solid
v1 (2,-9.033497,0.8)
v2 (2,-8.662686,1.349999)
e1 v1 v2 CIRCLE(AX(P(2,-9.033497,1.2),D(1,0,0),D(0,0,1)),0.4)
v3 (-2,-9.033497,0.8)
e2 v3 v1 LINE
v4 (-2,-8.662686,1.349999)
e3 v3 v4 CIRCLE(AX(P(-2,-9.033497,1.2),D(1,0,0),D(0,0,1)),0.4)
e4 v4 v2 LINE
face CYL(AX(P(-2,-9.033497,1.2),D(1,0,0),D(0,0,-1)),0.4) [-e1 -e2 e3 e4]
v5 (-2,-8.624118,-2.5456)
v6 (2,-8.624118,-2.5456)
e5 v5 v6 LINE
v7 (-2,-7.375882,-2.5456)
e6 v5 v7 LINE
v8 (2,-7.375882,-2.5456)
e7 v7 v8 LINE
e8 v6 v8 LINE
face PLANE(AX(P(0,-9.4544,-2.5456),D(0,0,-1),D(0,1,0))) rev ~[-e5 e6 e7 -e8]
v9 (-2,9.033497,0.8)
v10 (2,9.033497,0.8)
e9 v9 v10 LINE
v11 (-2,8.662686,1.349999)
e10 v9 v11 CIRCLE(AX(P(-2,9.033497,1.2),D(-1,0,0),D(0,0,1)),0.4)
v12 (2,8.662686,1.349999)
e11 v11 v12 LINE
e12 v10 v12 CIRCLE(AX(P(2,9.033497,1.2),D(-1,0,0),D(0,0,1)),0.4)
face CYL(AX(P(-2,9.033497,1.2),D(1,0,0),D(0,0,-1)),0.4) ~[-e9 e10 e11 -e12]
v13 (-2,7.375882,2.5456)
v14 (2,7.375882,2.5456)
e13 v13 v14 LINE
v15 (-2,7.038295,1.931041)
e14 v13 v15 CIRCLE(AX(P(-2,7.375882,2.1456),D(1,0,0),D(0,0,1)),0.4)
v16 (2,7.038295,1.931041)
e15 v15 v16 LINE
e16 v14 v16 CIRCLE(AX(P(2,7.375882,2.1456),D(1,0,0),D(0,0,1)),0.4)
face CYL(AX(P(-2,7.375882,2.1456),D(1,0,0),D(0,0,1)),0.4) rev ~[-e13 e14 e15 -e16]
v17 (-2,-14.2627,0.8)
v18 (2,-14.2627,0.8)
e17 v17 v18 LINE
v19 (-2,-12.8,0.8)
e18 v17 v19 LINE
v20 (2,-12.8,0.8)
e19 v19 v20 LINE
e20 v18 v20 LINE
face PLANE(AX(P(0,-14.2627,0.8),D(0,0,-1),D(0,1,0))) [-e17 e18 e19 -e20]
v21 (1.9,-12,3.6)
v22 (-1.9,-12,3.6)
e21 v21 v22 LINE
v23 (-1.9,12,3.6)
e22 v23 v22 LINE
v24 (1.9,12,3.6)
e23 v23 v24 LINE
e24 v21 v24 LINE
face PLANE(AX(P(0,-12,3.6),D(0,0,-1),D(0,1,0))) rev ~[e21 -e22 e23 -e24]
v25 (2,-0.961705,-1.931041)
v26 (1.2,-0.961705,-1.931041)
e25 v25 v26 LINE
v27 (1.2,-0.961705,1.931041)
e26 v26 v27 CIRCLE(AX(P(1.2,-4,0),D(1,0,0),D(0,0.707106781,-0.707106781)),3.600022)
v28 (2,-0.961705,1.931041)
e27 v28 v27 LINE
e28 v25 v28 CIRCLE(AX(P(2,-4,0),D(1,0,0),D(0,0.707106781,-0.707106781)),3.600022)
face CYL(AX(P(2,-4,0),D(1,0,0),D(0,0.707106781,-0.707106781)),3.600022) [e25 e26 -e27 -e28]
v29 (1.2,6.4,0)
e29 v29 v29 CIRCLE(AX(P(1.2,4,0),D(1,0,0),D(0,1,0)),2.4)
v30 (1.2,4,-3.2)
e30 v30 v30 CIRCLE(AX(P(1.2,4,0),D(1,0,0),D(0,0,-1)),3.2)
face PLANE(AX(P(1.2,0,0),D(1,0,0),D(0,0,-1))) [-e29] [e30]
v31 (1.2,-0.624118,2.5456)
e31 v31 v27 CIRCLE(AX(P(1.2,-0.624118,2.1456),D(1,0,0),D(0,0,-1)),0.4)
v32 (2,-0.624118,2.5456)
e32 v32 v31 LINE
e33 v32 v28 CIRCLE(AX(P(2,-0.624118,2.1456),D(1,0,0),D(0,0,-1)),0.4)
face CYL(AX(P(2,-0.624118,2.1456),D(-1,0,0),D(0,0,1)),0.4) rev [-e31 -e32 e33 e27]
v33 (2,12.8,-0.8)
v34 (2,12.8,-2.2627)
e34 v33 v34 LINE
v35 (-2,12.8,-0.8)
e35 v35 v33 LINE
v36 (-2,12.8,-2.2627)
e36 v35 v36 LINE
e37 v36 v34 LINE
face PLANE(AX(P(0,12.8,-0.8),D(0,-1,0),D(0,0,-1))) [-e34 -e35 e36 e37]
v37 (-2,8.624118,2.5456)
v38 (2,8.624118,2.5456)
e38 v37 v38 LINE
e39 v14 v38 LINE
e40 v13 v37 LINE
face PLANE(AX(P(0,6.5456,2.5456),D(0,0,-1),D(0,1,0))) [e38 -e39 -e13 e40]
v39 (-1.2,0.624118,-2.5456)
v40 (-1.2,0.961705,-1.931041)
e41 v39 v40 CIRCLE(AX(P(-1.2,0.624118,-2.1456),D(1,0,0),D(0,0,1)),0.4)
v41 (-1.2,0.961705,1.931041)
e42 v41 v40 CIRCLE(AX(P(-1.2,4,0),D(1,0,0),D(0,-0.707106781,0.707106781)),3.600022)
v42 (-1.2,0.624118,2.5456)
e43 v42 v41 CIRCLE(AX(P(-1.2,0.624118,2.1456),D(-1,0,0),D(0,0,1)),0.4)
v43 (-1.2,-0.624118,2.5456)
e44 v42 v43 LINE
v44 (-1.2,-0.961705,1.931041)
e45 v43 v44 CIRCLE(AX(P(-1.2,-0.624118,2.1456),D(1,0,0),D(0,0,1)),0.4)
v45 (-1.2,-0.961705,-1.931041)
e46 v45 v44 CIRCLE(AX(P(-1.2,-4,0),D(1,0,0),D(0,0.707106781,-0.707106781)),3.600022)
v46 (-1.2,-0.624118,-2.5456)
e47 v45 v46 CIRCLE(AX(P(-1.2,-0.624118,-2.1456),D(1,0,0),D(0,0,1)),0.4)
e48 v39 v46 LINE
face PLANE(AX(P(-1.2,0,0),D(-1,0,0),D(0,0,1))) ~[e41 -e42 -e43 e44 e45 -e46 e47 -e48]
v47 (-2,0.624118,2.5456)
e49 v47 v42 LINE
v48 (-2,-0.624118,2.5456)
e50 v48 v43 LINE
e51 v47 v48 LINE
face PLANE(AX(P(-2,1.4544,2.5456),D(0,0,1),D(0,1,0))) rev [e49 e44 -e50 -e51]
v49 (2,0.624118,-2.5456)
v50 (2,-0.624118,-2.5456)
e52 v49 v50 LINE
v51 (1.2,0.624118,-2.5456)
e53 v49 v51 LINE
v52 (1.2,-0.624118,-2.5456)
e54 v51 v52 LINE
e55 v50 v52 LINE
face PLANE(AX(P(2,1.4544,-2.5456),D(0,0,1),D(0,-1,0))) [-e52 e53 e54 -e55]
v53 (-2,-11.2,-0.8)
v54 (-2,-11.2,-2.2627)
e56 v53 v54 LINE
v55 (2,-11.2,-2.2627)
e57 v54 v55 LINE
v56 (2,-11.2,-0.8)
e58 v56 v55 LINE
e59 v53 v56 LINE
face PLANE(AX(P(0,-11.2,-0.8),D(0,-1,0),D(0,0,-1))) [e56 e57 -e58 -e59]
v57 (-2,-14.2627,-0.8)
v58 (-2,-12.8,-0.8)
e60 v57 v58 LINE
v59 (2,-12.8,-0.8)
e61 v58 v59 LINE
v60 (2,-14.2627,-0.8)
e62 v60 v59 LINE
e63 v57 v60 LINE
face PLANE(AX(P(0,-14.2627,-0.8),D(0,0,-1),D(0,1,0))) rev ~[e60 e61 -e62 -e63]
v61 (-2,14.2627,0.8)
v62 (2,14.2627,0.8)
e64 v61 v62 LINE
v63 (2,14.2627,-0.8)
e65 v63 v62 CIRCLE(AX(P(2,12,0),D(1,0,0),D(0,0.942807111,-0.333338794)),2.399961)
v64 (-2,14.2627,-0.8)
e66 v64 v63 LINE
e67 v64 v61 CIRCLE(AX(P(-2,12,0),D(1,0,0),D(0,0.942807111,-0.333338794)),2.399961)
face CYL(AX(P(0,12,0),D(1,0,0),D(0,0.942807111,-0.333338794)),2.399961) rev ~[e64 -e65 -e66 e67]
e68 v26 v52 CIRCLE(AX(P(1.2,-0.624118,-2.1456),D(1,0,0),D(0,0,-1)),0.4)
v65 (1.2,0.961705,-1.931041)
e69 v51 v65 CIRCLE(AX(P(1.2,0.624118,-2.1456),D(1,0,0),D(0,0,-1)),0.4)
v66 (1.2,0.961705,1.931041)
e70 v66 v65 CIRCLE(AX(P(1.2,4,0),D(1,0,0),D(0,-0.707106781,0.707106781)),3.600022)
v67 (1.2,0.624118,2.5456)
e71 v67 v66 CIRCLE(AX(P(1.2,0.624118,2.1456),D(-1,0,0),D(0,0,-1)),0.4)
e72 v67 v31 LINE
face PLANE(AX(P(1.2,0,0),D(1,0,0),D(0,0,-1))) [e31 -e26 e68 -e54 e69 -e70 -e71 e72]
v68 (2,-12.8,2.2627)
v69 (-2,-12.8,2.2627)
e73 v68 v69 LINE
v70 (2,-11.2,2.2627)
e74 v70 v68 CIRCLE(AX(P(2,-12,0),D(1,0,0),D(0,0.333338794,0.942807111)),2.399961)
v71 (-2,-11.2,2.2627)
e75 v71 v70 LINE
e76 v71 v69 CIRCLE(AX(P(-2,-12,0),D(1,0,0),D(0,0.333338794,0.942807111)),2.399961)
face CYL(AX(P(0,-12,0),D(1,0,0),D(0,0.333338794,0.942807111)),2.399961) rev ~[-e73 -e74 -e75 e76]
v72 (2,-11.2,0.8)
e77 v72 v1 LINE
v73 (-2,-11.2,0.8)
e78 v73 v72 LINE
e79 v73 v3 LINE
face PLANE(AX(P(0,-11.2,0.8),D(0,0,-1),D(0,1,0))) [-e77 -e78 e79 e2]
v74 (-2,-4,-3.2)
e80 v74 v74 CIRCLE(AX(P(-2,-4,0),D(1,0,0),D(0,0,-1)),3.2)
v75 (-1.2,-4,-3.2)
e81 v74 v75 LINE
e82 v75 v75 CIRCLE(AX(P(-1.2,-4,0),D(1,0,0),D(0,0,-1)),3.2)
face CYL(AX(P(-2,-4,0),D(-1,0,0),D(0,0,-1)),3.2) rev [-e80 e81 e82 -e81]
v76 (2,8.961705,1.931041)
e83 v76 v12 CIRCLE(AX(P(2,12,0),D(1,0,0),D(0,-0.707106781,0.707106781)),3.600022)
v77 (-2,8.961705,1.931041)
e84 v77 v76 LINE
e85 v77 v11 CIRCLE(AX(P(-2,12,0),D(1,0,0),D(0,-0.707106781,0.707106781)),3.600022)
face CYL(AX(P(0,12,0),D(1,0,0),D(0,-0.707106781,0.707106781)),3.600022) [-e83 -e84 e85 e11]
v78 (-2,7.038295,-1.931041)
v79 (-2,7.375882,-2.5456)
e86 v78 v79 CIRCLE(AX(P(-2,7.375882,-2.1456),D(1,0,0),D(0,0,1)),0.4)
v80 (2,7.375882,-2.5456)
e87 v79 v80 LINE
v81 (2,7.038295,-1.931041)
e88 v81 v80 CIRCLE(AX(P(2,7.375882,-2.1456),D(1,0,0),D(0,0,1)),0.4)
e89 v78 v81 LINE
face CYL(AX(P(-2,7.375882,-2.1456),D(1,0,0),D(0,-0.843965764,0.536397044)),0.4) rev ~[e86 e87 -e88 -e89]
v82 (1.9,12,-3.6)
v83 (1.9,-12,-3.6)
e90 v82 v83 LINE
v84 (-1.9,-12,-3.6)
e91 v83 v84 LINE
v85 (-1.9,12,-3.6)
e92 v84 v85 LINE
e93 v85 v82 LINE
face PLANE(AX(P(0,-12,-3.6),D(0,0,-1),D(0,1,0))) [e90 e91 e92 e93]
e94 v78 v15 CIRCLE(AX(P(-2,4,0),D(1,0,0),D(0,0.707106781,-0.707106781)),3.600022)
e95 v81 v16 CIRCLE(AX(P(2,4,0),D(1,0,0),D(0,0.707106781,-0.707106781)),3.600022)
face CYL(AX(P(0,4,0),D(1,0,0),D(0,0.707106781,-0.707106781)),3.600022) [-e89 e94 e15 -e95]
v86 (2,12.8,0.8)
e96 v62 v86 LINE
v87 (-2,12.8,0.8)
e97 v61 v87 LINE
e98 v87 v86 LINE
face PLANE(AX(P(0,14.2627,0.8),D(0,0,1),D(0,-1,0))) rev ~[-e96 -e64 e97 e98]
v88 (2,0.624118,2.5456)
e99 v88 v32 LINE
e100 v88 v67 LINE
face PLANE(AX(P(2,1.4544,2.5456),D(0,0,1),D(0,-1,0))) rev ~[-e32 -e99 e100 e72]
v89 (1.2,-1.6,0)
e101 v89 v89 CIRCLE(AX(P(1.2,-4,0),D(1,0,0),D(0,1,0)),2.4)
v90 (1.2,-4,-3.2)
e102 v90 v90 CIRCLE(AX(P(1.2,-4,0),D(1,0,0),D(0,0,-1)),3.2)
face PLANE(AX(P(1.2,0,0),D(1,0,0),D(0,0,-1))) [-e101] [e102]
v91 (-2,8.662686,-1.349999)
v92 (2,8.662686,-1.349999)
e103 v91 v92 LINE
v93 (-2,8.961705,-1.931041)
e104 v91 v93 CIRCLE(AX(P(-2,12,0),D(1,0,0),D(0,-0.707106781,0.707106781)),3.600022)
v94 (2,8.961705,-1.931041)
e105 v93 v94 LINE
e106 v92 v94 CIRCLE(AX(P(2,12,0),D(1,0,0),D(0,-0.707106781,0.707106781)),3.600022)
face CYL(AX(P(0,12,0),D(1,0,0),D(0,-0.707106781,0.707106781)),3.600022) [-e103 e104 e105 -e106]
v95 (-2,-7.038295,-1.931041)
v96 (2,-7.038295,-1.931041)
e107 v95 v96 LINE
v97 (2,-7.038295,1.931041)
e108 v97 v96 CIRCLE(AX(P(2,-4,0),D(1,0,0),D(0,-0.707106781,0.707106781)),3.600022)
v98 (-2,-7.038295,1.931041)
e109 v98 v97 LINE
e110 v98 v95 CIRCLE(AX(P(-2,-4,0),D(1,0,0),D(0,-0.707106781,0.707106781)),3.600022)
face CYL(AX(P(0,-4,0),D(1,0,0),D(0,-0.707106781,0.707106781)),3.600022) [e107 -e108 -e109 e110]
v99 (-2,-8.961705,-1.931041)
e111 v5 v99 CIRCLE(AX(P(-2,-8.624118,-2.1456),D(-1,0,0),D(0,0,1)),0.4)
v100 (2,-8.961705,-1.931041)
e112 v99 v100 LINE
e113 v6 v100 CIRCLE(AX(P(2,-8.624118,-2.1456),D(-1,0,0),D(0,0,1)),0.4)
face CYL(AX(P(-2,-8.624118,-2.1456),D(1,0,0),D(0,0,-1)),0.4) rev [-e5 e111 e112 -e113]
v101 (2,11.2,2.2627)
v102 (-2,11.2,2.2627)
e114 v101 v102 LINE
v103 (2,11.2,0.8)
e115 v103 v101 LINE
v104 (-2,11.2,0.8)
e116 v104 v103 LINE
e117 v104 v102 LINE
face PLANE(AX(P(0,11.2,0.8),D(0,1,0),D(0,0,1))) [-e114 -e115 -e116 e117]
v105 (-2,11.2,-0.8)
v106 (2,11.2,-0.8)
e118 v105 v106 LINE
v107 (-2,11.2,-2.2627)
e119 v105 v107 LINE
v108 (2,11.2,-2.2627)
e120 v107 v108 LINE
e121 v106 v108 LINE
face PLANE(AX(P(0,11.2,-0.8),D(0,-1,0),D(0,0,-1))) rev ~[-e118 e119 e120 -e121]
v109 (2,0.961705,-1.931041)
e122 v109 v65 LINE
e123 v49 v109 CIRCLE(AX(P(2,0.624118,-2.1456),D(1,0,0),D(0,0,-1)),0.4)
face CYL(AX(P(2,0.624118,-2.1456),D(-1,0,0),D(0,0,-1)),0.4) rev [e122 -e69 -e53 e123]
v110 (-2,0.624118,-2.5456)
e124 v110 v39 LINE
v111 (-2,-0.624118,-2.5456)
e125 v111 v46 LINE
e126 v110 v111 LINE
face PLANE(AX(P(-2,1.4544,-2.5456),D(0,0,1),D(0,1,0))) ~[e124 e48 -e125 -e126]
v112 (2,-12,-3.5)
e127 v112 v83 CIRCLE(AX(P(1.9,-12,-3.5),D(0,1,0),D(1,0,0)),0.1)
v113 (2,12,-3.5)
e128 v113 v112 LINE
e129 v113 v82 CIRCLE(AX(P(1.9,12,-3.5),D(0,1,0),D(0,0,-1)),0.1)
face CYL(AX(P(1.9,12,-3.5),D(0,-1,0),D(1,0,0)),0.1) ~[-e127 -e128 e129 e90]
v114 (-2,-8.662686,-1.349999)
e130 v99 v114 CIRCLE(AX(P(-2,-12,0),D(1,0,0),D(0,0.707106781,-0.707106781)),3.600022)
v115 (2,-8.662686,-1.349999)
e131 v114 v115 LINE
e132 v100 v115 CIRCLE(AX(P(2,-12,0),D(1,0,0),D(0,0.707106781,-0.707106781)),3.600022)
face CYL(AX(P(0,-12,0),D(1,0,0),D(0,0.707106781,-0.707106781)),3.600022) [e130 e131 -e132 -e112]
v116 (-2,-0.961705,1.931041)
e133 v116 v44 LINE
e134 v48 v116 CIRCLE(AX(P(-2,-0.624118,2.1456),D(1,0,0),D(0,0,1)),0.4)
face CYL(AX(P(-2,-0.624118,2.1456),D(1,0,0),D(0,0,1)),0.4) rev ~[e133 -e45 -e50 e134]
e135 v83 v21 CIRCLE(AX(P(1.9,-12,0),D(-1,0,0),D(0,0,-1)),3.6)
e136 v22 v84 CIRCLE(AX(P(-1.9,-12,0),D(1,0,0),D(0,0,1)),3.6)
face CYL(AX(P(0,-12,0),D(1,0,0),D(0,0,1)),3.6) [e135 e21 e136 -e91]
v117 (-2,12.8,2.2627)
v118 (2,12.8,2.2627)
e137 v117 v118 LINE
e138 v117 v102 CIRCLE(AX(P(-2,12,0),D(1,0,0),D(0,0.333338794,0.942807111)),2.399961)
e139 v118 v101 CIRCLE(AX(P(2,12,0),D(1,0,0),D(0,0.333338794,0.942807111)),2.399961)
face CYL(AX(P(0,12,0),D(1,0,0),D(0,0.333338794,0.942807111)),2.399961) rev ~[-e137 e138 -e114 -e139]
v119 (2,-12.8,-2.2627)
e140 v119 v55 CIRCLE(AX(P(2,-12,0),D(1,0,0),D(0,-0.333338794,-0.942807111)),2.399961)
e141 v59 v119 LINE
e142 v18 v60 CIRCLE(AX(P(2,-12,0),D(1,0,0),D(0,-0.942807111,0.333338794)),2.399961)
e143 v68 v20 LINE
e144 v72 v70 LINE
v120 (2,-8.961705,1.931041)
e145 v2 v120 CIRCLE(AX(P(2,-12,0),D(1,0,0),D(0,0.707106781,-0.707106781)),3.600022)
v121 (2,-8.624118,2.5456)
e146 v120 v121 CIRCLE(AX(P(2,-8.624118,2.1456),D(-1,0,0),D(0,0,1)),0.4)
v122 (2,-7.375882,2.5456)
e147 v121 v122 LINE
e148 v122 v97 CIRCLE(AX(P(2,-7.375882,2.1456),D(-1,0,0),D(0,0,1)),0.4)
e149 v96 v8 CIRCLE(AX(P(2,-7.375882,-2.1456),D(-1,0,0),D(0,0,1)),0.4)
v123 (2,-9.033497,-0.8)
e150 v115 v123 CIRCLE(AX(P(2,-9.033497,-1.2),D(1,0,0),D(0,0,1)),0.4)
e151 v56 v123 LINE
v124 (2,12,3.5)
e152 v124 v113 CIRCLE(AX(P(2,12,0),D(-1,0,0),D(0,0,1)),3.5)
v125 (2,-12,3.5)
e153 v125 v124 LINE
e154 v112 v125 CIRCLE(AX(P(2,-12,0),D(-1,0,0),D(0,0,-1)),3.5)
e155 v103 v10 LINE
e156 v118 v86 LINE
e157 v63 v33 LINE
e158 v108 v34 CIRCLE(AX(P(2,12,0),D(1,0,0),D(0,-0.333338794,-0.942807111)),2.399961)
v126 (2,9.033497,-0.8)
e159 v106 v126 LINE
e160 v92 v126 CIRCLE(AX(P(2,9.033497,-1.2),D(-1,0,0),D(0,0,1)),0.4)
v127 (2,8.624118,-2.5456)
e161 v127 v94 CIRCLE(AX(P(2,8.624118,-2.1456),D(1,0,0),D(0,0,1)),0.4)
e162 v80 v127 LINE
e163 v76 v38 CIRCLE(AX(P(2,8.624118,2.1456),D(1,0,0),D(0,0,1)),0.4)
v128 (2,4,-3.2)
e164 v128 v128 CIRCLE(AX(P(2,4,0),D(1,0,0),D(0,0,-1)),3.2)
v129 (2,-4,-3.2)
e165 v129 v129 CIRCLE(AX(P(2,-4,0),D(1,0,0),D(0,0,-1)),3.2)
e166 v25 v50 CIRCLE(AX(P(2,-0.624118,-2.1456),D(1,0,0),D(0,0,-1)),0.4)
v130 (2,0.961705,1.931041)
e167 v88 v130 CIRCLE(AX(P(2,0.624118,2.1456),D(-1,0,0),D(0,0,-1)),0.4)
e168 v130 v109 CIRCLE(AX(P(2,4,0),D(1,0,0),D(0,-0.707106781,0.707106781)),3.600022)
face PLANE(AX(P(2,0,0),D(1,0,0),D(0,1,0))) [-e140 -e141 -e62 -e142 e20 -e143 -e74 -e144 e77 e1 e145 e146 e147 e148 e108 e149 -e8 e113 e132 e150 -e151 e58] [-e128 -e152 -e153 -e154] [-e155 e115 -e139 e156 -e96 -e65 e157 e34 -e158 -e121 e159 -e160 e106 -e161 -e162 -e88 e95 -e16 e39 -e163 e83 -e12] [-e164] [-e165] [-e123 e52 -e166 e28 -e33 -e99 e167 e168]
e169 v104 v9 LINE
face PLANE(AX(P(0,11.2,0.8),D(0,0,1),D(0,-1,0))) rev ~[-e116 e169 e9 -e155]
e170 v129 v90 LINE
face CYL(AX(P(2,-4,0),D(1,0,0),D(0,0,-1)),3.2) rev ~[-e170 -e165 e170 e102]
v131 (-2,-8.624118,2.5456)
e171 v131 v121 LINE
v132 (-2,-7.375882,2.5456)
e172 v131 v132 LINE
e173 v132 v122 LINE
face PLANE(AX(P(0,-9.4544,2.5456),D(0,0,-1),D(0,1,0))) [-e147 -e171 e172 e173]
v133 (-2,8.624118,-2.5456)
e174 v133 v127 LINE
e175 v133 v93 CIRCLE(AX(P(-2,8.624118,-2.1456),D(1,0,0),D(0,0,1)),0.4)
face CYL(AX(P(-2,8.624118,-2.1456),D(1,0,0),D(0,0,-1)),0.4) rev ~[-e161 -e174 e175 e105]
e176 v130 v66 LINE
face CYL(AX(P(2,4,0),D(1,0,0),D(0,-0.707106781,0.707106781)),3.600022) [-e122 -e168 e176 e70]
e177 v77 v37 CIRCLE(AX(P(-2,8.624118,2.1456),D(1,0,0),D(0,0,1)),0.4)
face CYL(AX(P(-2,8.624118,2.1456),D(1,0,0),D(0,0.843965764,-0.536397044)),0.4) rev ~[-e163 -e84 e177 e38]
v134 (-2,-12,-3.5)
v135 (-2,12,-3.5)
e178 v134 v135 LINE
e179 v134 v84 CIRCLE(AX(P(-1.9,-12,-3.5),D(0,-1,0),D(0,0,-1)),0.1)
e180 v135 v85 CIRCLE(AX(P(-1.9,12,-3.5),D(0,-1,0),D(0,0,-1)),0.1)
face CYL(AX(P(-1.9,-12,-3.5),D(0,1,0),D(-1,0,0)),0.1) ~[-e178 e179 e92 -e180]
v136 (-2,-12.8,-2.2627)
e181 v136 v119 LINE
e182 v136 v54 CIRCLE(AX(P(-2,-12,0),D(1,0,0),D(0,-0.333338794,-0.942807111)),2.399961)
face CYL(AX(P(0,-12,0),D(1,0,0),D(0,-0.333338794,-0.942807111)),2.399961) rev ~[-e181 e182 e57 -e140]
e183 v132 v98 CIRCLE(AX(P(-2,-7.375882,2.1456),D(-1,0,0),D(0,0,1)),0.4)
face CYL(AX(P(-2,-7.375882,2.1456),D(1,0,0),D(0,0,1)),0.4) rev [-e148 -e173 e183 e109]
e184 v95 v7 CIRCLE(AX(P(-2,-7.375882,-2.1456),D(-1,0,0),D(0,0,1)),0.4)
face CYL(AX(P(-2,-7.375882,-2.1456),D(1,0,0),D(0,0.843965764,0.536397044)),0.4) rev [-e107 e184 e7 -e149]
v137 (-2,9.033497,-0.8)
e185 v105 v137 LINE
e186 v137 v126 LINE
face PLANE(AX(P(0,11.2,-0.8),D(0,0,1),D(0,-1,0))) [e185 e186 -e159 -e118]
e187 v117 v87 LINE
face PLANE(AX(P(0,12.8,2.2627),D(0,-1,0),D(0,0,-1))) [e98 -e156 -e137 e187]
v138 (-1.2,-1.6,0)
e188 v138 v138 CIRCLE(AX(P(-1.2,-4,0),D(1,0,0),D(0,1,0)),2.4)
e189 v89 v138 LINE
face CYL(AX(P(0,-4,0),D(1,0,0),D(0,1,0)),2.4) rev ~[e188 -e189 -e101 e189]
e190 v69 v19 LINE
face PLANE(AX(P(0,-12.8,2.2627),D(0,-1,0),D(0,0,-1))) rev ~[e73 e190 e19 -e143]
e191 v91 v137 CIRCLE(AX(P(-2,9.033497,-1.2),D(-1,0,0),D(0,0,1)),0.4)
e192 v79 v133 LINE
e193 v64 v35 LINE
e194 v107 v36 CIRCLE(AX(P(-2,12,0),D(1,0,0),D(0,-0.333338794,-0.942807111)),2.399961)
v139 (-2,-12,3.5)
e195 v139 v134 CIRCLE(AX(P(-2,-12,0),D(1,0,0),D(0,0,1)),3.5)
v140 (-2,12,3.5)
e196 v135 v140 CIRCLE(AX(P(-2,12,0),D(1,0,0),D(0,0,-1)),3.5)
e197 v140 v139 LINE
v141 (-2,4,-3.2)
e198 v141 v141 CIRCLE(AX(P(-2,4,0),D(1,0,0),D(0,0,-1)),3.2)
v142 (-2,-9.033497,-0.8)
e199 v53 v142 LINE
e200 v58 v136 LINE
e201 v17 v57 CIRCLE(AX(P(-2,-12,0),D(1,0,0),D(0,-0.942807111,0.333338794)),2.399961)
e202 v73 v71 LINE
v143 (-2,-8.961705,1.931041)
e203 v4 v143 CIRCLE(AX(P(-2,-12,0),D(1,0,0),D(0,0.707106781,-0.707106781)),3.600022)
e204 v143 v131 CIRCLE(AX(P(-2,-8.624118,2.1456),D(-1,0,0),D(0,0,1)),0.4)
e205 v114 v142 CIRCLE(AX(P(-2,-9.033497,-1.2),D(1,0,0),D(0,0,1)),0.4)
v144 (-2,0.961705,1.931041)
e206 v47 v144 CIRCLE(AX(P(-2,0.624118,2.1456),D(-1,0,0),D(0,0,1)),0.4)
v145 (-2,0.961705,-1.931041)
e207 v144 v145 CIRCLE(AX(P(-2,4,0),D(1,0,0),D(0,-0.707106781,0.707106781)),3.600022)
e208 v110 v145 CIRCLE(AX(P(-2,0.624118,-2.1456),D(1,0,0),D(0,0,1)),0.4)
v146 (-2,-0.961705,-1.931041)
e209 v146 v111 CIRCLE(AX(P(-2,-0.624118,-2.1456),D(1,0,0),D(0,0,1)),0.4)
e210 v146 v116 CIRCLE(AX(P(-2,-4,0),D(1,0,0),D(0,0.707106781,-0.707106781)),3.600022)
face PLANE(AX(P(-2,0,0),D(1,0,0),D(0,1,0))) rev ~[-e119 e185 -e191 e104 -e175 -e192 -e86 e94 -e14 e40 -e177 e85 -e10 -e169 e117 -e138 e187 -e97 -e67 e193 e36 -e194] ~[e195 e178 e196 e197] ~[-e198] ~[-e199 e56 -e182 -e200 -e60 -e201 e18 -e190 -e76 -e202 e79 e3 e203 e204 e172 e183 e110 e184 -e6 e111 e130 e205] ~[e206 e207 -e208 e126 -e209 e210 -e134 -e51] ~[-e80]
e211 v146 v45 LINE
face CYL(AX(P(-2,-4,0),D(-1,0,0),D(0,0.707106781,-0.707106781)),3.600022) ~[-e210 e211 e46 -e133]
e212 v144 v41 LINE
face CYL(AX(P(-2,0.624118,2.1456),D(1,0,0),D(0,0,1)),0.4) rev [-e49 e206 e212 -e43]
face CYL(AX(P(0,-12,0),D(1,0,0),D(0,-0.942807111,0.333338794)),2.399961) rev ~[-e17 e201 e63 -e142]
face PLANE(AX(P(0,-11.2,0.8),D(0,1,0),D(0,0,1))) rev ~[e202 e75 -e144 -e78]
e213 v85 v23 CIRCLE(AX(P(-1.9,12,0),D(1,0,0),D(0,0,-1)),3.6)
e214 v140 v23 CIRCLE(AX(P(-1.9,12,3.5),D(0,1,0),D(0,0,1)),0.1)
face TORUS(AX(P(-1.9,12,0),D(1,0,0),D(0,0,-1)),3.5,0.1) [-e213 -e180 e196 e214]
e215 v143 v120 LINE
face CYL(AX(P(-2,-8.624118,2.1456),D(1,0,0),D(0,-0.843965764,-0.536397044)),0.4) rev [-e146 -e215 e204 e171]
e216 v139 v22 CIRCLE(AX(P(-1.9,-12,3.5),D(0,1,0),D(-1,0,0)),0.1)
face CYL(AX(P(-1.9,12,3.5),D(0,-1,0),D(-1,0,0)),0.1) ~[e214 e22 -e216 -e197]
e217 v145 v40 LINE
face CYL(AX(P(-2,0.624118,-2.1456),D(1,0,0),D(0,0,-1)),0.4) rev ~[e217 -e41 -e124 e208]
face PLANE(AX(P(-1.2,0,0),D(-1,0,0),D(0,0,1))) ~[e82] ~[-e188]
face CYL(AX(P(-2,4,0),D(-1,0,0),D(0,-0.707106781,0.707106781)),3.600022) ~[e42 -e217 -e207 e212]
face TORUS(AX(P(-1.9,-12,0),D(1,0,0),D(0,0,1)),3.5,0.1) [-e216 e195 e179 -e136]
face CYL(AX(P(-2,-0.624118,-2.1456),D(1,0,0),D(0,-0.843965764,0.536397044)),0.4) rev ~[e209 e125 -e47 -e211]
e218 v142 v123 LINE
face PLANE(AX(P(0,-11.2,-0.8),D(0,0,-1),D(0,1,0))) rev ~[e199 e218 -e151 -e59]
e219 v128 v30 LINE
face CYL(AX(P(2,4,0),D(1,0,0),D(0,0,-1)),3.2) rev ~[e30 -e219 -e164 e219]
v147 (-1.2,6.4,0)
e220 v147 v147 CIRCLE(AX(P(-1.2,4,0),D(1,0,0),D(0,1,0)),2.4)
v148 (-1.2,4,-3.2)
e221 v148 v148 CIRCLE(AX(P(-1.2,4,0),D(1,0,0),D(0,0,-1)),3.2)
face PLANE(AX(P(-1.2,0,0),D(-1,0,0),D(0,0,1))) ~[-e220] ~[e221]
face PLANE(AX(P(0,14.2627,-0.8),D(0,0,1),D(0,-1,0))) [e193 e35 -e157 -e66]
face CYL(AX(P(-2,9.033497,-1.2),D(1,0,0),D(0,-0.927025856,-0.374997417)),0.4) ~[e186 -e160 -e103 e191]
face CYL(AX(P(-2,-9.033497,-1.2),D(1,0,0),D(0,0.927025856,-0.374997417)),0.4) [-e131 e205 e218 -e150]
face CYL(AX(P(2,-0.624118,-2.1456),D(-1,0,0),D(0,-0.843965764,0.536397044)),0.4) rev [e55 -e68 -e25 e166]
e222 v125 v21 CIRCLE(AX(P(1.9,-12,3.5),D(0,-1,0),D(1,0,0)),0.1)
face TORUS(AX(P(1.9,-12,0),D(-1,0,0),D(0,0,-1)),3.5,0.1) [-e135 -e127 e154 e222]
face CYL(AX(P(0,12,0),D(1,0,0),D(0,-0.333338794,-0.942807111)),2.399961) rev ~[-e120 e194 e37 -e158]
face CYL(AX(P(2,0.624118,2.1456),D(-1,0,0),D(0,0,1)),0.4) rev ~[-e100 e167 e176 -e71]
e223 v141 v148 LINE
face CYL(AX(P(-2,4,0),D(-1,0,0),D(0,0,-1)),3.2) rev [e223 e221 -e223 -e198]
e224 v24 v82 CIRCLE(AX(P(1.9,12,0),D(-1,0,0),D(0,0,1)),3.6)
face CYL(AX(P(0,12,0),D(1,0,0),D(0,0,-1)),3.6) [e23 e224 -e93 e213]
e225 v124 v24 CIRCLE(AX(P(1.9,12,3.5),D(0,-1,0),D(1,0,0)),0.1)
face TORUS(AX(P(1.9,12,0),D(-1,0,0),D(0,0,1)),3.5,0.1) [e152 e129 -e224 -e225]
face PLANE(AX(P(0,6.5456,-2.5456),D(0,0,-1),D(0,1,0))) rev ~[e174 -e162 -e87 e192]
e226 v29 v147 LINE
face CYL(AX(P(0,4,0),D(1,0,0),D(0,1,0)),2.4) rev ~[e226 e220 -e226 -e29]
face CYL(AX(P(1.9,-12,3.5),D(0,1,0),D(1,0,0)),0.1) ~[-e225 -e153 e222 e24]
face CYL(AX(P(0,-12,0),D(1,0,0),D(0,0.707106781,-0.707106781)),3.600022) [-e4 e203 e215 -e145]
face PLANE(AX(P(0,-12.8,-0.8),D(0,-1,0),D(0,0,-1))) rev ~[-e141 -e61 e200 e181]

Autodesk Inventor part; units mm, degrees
ref_plane "YZ Plane" through (0, 0, 0) normal (1, 0, 0) x (0, 1, 0)
ref_plane "XZ Plane" through (0, 0, 0) normal (0, 1, 0) x (-1, 0, 0)
ref_plane "XY Plane" through (0, 0, 0) normal (0, 0, 1) x (1, 0, 0)
sketch "Sketch3" plane through (0, 0, 0) normal (1, 0, 0) x (0, 1, 0)
  arc A0 (12.8, 2.2627) -> (11.2, 2.2627) centre (12, 0) ccw
  arc A1 (11.2, -2.2627) -> (12.8, -2.2627) centre (12, 0) ccw
  arc A2 (14.2627, -0.8) -> (14.2627, 0.8) centre (12, 0) ccw
  line L0 (14.2627, 0.8) -> (12.8, 0.8)
  line L1 (11.2, 0.8) -> (8.49, 0.8)
  line L2 (12.8, 2.2627) -> (12.8, 0.8)
  line L3 (12.8, -0.8) -> (12.8, -2.2627)
  line L4 (14.2627, -0.8) -> (12.8, -0.8)
  line L5 (11.2, -0.8) -> (8.49, -0.8)
  arc A3 (12, -3.6) -> (12, 3.6) centre (12, 0) ccw
  line L6 (-12, -3.6) -> (12, -3.6)
  line L7 (-12, 3.6) -> (12, 3.6)
  line L8 (11.2, 0.8) -> (11.2, 2.2627)
  line L9 (11.2, -0.8) -> (11.2, -2.2627)
  arc A4 (-12, 3.6) -> (-12, -3.6) centre (-12, 0) ccw
  line L10 (0, -3.6) -> (0, 3.6) construction
  arc A5 (-11.2, 2.2627) -> (-12.8, 2.2627) centre (-12, 0) ccw
  arc A6 (-12.8, -2.2627) -> (-11.2, -2.2627) centre (-12, 0) ccw
  line L11 (-12.8, -0.8) -> (-12.8, -2.2627)
  line L12 (-12.8, 2.2627) -> (-12.8, 0.8)
  line L13 (-14.2627, -0.8) -> (-12.8, -0.8)
  line L14 (-14.2627, 0.8) -> (-12.8, 0.8)
  arc A7 (-14.2627, 0.8) -> (-14.2627, -0.8) centre (-12, 0) ccw
  line L15 (-11.2, 0.8) -> (-8.49, 0.8)
  line L16 (-11.2, -0.8) -> (-8.49, -0.8)
  line L17 (-11.2, 0.8) -> (-11.2, 2.2627)
  line L18 (-11.2, -0.8) -> (-11.2, -2.2627)
  circle A8 centre (-4, 0) radius 3.2
  circle A9 centre (4, 0) radius 3.2
  line L19 (12, 0) -> (4, 0) construction
  line L20 (4, 0) -> (-4, 0) construction
  line L21 (-4, 0) -> (-12, 0) construction
  circle A10 centre (-4, 0) radius 2.4
  circle A11 centre (4, 0) radius 2.4
  line L22 (-9.4544, 2.5456) -> (-6.5456, 2.5456)
  line L23 (-9.4544, -2.5456) -> (-6.5456, -2.5456)
  line L24 (-1.4544, 2.5456) -> (1.4544, 2.5456)
  line L25 (-1.4544, -2.5456) -> (1.4544, -2.5456)
  line L26 (6.5456, 2.5456) -> (9.4544, 2.5456)
  line L27 (6.5456, -2.5456) -> (9.4544, -2.5456)
  arc A12 (-9.4544, -2.5456) -> (-9.4544, 2.5456) centre (-12, 0) ccw
  arc A13 (-6.5456, 2.5456) -> (-6.5456, -2.5456) centre (-4, 0) ccw
  arc A14 (-1.4544, -2.5456) -> (-1.4544, 2.5456) centre (-4, 0) ccw
  arc A15 (1.4544, 2.5456) -> (1.4544, -2.5456) centre (4, 0) ccw
  arc A16 (6.5456, -2.5456) -> (6.5456, 2.5456) centre (4, 0) ccw
  arc A17 (9.4544, 2.5456) -> (9.4544, -2.5456) centre (12, 0) ccw
  line L28 (-12, 0) -> (-9.4544, 2.5456) construction
  arc A18 (8.49, 0.8) -> (8.49, -0.8) centre (12, 0) ccw
  point P0 (0, 0)
  dimension "d47" = 4.8
  dimension "d49" = 7.2
  dimension "d53" = 1.6
  dimension "d58" = 24
  dimension "d59" = 6.4
  dimension "d60" = 4.8
  dimension "d64" = 45
extrude "Extrusion4" add sketch "Sketch3" along normal mid plane 4 contours L6 A4 L7 A3 | A8 | A9 | L24 A15 L25 A14
sketch "Sketch11" plane through (2, 0, 0) normal (1, 0, 0) x (0, 0, -1)
  circle A0 centre (0, 4) radius 2.4 projected
  circle A1 centre (0, -4) radius 2.4 projected
  circle A2 centre (0, 4) radius 3.2
  circle A3 centre (0, -4) radius 3.2
  arc A4 (2.5456, 6.5456) -> (-2.5456, 6.5456) centre (0, 4) ccw projected
  arc A5 (-2.5456, -6.5456) -> (2.5456, -6.5456) centre (0, -4) ccw projected
  line L0 (-2.2627, -11.2) -> (-0.8, -11.2) projected
  line L1 (-2.5456, 1.4544) -> (-2.5456, -1.4544)
  line L2 (2.5456, 1.4544) -> (2.5456, -1.4544)
  arc A6 (-2.5456, 1.4544) -> (2.5456, 1.4544) centre (0, 4) ccw
  arc A7 (2.5456, -1.4544) -> (-2.5456, -1.4544) centre (0, -4) ccw
  point P0 (0, 0)
  dimension "d61" = 6.4
extrude "Extrusion16" cut sketch "Sketch11" against normal blind 0.8 contours A2 | A3
extrude "Extrusion17" cut sketch "Sketch11" against normal blind 0.8 contours A6 L2 A7 L1
mirror "Mirror3" about plane through (0, 0, 0) normal (1, 0, 0) of "Extrusion16", "Extrusion17"
fillet "Fillet1" radius 0.1 8 edges at (-2, 15.6, 0) (-2, 0, 3.6) (-2, 0, -3.6) (2, 0, 3.6) (2, 0, -3.6) (2, 15.6, 0) (2, -15.6, 0) (-2, -15.6, 0)
fillet "Fillet1" radius 0.4 20 edges at (0, -9.4544, 2.5456) (0, -6.5456, 2.5456) (0, -9.4544, -2.5456) (0, -6.5456, -2.5456) (0, 6.5456, 2.5456) (0, 9.4544, 2.5456) (0, 6.5456, -2.5456) (0, 9.4544, -2.5456) (1.6, -1.4544, 2.5456) (1.6, 1.4544, 2.5456) (1.6, -1.4544, -2.5456) (1.6, 1.4544, -2.5456) (-1.6, -1.4544, 2.5456) (-1.6, 1.4544, 2.5456) (-1.6, -1.4544, -2.5456) (-1.6, 1.4544, -2.5456) (0, -8.49, 0.8) (0, -8.49, -0.8) (0, 8.49, -0.8) (0, 8.49, 0.8)
equation "\"d47\" = kd"
equation "\"d49\" = tlad"
equation "\"d53\" = axlet"
equation "\"d58\" = 3 * lu"
equation "\"d59\" = tsd"
equation "\"d60\" = tpd"
equation "\"d15\" = 0.5 * lu"
equation "\"d61\" = tsd"
equation "\"d62\" = tsl"
equation "\"d65\" = 0.5 * lu - 2 * wall"
equation "\"d56\" = lf"
equation "\"d67\" = tf"
equation "\"lf\" = 0.1"
equation "\"tf\" = 0.4"
equation "\"kd\" = 4.8"
equation "\"tlad\" = 7.2"
equation "\"axlet\" = 1.6"
equation "\"lu\" = 8"
equation "\"tsd\" = 6.4"
equation "\"tpd\" = 4.8"
equation "\"tsl\" = 0.8"
equation "\"wall\" = 1.6"
properties part number "32449-Red" material "ABS Plastic"
